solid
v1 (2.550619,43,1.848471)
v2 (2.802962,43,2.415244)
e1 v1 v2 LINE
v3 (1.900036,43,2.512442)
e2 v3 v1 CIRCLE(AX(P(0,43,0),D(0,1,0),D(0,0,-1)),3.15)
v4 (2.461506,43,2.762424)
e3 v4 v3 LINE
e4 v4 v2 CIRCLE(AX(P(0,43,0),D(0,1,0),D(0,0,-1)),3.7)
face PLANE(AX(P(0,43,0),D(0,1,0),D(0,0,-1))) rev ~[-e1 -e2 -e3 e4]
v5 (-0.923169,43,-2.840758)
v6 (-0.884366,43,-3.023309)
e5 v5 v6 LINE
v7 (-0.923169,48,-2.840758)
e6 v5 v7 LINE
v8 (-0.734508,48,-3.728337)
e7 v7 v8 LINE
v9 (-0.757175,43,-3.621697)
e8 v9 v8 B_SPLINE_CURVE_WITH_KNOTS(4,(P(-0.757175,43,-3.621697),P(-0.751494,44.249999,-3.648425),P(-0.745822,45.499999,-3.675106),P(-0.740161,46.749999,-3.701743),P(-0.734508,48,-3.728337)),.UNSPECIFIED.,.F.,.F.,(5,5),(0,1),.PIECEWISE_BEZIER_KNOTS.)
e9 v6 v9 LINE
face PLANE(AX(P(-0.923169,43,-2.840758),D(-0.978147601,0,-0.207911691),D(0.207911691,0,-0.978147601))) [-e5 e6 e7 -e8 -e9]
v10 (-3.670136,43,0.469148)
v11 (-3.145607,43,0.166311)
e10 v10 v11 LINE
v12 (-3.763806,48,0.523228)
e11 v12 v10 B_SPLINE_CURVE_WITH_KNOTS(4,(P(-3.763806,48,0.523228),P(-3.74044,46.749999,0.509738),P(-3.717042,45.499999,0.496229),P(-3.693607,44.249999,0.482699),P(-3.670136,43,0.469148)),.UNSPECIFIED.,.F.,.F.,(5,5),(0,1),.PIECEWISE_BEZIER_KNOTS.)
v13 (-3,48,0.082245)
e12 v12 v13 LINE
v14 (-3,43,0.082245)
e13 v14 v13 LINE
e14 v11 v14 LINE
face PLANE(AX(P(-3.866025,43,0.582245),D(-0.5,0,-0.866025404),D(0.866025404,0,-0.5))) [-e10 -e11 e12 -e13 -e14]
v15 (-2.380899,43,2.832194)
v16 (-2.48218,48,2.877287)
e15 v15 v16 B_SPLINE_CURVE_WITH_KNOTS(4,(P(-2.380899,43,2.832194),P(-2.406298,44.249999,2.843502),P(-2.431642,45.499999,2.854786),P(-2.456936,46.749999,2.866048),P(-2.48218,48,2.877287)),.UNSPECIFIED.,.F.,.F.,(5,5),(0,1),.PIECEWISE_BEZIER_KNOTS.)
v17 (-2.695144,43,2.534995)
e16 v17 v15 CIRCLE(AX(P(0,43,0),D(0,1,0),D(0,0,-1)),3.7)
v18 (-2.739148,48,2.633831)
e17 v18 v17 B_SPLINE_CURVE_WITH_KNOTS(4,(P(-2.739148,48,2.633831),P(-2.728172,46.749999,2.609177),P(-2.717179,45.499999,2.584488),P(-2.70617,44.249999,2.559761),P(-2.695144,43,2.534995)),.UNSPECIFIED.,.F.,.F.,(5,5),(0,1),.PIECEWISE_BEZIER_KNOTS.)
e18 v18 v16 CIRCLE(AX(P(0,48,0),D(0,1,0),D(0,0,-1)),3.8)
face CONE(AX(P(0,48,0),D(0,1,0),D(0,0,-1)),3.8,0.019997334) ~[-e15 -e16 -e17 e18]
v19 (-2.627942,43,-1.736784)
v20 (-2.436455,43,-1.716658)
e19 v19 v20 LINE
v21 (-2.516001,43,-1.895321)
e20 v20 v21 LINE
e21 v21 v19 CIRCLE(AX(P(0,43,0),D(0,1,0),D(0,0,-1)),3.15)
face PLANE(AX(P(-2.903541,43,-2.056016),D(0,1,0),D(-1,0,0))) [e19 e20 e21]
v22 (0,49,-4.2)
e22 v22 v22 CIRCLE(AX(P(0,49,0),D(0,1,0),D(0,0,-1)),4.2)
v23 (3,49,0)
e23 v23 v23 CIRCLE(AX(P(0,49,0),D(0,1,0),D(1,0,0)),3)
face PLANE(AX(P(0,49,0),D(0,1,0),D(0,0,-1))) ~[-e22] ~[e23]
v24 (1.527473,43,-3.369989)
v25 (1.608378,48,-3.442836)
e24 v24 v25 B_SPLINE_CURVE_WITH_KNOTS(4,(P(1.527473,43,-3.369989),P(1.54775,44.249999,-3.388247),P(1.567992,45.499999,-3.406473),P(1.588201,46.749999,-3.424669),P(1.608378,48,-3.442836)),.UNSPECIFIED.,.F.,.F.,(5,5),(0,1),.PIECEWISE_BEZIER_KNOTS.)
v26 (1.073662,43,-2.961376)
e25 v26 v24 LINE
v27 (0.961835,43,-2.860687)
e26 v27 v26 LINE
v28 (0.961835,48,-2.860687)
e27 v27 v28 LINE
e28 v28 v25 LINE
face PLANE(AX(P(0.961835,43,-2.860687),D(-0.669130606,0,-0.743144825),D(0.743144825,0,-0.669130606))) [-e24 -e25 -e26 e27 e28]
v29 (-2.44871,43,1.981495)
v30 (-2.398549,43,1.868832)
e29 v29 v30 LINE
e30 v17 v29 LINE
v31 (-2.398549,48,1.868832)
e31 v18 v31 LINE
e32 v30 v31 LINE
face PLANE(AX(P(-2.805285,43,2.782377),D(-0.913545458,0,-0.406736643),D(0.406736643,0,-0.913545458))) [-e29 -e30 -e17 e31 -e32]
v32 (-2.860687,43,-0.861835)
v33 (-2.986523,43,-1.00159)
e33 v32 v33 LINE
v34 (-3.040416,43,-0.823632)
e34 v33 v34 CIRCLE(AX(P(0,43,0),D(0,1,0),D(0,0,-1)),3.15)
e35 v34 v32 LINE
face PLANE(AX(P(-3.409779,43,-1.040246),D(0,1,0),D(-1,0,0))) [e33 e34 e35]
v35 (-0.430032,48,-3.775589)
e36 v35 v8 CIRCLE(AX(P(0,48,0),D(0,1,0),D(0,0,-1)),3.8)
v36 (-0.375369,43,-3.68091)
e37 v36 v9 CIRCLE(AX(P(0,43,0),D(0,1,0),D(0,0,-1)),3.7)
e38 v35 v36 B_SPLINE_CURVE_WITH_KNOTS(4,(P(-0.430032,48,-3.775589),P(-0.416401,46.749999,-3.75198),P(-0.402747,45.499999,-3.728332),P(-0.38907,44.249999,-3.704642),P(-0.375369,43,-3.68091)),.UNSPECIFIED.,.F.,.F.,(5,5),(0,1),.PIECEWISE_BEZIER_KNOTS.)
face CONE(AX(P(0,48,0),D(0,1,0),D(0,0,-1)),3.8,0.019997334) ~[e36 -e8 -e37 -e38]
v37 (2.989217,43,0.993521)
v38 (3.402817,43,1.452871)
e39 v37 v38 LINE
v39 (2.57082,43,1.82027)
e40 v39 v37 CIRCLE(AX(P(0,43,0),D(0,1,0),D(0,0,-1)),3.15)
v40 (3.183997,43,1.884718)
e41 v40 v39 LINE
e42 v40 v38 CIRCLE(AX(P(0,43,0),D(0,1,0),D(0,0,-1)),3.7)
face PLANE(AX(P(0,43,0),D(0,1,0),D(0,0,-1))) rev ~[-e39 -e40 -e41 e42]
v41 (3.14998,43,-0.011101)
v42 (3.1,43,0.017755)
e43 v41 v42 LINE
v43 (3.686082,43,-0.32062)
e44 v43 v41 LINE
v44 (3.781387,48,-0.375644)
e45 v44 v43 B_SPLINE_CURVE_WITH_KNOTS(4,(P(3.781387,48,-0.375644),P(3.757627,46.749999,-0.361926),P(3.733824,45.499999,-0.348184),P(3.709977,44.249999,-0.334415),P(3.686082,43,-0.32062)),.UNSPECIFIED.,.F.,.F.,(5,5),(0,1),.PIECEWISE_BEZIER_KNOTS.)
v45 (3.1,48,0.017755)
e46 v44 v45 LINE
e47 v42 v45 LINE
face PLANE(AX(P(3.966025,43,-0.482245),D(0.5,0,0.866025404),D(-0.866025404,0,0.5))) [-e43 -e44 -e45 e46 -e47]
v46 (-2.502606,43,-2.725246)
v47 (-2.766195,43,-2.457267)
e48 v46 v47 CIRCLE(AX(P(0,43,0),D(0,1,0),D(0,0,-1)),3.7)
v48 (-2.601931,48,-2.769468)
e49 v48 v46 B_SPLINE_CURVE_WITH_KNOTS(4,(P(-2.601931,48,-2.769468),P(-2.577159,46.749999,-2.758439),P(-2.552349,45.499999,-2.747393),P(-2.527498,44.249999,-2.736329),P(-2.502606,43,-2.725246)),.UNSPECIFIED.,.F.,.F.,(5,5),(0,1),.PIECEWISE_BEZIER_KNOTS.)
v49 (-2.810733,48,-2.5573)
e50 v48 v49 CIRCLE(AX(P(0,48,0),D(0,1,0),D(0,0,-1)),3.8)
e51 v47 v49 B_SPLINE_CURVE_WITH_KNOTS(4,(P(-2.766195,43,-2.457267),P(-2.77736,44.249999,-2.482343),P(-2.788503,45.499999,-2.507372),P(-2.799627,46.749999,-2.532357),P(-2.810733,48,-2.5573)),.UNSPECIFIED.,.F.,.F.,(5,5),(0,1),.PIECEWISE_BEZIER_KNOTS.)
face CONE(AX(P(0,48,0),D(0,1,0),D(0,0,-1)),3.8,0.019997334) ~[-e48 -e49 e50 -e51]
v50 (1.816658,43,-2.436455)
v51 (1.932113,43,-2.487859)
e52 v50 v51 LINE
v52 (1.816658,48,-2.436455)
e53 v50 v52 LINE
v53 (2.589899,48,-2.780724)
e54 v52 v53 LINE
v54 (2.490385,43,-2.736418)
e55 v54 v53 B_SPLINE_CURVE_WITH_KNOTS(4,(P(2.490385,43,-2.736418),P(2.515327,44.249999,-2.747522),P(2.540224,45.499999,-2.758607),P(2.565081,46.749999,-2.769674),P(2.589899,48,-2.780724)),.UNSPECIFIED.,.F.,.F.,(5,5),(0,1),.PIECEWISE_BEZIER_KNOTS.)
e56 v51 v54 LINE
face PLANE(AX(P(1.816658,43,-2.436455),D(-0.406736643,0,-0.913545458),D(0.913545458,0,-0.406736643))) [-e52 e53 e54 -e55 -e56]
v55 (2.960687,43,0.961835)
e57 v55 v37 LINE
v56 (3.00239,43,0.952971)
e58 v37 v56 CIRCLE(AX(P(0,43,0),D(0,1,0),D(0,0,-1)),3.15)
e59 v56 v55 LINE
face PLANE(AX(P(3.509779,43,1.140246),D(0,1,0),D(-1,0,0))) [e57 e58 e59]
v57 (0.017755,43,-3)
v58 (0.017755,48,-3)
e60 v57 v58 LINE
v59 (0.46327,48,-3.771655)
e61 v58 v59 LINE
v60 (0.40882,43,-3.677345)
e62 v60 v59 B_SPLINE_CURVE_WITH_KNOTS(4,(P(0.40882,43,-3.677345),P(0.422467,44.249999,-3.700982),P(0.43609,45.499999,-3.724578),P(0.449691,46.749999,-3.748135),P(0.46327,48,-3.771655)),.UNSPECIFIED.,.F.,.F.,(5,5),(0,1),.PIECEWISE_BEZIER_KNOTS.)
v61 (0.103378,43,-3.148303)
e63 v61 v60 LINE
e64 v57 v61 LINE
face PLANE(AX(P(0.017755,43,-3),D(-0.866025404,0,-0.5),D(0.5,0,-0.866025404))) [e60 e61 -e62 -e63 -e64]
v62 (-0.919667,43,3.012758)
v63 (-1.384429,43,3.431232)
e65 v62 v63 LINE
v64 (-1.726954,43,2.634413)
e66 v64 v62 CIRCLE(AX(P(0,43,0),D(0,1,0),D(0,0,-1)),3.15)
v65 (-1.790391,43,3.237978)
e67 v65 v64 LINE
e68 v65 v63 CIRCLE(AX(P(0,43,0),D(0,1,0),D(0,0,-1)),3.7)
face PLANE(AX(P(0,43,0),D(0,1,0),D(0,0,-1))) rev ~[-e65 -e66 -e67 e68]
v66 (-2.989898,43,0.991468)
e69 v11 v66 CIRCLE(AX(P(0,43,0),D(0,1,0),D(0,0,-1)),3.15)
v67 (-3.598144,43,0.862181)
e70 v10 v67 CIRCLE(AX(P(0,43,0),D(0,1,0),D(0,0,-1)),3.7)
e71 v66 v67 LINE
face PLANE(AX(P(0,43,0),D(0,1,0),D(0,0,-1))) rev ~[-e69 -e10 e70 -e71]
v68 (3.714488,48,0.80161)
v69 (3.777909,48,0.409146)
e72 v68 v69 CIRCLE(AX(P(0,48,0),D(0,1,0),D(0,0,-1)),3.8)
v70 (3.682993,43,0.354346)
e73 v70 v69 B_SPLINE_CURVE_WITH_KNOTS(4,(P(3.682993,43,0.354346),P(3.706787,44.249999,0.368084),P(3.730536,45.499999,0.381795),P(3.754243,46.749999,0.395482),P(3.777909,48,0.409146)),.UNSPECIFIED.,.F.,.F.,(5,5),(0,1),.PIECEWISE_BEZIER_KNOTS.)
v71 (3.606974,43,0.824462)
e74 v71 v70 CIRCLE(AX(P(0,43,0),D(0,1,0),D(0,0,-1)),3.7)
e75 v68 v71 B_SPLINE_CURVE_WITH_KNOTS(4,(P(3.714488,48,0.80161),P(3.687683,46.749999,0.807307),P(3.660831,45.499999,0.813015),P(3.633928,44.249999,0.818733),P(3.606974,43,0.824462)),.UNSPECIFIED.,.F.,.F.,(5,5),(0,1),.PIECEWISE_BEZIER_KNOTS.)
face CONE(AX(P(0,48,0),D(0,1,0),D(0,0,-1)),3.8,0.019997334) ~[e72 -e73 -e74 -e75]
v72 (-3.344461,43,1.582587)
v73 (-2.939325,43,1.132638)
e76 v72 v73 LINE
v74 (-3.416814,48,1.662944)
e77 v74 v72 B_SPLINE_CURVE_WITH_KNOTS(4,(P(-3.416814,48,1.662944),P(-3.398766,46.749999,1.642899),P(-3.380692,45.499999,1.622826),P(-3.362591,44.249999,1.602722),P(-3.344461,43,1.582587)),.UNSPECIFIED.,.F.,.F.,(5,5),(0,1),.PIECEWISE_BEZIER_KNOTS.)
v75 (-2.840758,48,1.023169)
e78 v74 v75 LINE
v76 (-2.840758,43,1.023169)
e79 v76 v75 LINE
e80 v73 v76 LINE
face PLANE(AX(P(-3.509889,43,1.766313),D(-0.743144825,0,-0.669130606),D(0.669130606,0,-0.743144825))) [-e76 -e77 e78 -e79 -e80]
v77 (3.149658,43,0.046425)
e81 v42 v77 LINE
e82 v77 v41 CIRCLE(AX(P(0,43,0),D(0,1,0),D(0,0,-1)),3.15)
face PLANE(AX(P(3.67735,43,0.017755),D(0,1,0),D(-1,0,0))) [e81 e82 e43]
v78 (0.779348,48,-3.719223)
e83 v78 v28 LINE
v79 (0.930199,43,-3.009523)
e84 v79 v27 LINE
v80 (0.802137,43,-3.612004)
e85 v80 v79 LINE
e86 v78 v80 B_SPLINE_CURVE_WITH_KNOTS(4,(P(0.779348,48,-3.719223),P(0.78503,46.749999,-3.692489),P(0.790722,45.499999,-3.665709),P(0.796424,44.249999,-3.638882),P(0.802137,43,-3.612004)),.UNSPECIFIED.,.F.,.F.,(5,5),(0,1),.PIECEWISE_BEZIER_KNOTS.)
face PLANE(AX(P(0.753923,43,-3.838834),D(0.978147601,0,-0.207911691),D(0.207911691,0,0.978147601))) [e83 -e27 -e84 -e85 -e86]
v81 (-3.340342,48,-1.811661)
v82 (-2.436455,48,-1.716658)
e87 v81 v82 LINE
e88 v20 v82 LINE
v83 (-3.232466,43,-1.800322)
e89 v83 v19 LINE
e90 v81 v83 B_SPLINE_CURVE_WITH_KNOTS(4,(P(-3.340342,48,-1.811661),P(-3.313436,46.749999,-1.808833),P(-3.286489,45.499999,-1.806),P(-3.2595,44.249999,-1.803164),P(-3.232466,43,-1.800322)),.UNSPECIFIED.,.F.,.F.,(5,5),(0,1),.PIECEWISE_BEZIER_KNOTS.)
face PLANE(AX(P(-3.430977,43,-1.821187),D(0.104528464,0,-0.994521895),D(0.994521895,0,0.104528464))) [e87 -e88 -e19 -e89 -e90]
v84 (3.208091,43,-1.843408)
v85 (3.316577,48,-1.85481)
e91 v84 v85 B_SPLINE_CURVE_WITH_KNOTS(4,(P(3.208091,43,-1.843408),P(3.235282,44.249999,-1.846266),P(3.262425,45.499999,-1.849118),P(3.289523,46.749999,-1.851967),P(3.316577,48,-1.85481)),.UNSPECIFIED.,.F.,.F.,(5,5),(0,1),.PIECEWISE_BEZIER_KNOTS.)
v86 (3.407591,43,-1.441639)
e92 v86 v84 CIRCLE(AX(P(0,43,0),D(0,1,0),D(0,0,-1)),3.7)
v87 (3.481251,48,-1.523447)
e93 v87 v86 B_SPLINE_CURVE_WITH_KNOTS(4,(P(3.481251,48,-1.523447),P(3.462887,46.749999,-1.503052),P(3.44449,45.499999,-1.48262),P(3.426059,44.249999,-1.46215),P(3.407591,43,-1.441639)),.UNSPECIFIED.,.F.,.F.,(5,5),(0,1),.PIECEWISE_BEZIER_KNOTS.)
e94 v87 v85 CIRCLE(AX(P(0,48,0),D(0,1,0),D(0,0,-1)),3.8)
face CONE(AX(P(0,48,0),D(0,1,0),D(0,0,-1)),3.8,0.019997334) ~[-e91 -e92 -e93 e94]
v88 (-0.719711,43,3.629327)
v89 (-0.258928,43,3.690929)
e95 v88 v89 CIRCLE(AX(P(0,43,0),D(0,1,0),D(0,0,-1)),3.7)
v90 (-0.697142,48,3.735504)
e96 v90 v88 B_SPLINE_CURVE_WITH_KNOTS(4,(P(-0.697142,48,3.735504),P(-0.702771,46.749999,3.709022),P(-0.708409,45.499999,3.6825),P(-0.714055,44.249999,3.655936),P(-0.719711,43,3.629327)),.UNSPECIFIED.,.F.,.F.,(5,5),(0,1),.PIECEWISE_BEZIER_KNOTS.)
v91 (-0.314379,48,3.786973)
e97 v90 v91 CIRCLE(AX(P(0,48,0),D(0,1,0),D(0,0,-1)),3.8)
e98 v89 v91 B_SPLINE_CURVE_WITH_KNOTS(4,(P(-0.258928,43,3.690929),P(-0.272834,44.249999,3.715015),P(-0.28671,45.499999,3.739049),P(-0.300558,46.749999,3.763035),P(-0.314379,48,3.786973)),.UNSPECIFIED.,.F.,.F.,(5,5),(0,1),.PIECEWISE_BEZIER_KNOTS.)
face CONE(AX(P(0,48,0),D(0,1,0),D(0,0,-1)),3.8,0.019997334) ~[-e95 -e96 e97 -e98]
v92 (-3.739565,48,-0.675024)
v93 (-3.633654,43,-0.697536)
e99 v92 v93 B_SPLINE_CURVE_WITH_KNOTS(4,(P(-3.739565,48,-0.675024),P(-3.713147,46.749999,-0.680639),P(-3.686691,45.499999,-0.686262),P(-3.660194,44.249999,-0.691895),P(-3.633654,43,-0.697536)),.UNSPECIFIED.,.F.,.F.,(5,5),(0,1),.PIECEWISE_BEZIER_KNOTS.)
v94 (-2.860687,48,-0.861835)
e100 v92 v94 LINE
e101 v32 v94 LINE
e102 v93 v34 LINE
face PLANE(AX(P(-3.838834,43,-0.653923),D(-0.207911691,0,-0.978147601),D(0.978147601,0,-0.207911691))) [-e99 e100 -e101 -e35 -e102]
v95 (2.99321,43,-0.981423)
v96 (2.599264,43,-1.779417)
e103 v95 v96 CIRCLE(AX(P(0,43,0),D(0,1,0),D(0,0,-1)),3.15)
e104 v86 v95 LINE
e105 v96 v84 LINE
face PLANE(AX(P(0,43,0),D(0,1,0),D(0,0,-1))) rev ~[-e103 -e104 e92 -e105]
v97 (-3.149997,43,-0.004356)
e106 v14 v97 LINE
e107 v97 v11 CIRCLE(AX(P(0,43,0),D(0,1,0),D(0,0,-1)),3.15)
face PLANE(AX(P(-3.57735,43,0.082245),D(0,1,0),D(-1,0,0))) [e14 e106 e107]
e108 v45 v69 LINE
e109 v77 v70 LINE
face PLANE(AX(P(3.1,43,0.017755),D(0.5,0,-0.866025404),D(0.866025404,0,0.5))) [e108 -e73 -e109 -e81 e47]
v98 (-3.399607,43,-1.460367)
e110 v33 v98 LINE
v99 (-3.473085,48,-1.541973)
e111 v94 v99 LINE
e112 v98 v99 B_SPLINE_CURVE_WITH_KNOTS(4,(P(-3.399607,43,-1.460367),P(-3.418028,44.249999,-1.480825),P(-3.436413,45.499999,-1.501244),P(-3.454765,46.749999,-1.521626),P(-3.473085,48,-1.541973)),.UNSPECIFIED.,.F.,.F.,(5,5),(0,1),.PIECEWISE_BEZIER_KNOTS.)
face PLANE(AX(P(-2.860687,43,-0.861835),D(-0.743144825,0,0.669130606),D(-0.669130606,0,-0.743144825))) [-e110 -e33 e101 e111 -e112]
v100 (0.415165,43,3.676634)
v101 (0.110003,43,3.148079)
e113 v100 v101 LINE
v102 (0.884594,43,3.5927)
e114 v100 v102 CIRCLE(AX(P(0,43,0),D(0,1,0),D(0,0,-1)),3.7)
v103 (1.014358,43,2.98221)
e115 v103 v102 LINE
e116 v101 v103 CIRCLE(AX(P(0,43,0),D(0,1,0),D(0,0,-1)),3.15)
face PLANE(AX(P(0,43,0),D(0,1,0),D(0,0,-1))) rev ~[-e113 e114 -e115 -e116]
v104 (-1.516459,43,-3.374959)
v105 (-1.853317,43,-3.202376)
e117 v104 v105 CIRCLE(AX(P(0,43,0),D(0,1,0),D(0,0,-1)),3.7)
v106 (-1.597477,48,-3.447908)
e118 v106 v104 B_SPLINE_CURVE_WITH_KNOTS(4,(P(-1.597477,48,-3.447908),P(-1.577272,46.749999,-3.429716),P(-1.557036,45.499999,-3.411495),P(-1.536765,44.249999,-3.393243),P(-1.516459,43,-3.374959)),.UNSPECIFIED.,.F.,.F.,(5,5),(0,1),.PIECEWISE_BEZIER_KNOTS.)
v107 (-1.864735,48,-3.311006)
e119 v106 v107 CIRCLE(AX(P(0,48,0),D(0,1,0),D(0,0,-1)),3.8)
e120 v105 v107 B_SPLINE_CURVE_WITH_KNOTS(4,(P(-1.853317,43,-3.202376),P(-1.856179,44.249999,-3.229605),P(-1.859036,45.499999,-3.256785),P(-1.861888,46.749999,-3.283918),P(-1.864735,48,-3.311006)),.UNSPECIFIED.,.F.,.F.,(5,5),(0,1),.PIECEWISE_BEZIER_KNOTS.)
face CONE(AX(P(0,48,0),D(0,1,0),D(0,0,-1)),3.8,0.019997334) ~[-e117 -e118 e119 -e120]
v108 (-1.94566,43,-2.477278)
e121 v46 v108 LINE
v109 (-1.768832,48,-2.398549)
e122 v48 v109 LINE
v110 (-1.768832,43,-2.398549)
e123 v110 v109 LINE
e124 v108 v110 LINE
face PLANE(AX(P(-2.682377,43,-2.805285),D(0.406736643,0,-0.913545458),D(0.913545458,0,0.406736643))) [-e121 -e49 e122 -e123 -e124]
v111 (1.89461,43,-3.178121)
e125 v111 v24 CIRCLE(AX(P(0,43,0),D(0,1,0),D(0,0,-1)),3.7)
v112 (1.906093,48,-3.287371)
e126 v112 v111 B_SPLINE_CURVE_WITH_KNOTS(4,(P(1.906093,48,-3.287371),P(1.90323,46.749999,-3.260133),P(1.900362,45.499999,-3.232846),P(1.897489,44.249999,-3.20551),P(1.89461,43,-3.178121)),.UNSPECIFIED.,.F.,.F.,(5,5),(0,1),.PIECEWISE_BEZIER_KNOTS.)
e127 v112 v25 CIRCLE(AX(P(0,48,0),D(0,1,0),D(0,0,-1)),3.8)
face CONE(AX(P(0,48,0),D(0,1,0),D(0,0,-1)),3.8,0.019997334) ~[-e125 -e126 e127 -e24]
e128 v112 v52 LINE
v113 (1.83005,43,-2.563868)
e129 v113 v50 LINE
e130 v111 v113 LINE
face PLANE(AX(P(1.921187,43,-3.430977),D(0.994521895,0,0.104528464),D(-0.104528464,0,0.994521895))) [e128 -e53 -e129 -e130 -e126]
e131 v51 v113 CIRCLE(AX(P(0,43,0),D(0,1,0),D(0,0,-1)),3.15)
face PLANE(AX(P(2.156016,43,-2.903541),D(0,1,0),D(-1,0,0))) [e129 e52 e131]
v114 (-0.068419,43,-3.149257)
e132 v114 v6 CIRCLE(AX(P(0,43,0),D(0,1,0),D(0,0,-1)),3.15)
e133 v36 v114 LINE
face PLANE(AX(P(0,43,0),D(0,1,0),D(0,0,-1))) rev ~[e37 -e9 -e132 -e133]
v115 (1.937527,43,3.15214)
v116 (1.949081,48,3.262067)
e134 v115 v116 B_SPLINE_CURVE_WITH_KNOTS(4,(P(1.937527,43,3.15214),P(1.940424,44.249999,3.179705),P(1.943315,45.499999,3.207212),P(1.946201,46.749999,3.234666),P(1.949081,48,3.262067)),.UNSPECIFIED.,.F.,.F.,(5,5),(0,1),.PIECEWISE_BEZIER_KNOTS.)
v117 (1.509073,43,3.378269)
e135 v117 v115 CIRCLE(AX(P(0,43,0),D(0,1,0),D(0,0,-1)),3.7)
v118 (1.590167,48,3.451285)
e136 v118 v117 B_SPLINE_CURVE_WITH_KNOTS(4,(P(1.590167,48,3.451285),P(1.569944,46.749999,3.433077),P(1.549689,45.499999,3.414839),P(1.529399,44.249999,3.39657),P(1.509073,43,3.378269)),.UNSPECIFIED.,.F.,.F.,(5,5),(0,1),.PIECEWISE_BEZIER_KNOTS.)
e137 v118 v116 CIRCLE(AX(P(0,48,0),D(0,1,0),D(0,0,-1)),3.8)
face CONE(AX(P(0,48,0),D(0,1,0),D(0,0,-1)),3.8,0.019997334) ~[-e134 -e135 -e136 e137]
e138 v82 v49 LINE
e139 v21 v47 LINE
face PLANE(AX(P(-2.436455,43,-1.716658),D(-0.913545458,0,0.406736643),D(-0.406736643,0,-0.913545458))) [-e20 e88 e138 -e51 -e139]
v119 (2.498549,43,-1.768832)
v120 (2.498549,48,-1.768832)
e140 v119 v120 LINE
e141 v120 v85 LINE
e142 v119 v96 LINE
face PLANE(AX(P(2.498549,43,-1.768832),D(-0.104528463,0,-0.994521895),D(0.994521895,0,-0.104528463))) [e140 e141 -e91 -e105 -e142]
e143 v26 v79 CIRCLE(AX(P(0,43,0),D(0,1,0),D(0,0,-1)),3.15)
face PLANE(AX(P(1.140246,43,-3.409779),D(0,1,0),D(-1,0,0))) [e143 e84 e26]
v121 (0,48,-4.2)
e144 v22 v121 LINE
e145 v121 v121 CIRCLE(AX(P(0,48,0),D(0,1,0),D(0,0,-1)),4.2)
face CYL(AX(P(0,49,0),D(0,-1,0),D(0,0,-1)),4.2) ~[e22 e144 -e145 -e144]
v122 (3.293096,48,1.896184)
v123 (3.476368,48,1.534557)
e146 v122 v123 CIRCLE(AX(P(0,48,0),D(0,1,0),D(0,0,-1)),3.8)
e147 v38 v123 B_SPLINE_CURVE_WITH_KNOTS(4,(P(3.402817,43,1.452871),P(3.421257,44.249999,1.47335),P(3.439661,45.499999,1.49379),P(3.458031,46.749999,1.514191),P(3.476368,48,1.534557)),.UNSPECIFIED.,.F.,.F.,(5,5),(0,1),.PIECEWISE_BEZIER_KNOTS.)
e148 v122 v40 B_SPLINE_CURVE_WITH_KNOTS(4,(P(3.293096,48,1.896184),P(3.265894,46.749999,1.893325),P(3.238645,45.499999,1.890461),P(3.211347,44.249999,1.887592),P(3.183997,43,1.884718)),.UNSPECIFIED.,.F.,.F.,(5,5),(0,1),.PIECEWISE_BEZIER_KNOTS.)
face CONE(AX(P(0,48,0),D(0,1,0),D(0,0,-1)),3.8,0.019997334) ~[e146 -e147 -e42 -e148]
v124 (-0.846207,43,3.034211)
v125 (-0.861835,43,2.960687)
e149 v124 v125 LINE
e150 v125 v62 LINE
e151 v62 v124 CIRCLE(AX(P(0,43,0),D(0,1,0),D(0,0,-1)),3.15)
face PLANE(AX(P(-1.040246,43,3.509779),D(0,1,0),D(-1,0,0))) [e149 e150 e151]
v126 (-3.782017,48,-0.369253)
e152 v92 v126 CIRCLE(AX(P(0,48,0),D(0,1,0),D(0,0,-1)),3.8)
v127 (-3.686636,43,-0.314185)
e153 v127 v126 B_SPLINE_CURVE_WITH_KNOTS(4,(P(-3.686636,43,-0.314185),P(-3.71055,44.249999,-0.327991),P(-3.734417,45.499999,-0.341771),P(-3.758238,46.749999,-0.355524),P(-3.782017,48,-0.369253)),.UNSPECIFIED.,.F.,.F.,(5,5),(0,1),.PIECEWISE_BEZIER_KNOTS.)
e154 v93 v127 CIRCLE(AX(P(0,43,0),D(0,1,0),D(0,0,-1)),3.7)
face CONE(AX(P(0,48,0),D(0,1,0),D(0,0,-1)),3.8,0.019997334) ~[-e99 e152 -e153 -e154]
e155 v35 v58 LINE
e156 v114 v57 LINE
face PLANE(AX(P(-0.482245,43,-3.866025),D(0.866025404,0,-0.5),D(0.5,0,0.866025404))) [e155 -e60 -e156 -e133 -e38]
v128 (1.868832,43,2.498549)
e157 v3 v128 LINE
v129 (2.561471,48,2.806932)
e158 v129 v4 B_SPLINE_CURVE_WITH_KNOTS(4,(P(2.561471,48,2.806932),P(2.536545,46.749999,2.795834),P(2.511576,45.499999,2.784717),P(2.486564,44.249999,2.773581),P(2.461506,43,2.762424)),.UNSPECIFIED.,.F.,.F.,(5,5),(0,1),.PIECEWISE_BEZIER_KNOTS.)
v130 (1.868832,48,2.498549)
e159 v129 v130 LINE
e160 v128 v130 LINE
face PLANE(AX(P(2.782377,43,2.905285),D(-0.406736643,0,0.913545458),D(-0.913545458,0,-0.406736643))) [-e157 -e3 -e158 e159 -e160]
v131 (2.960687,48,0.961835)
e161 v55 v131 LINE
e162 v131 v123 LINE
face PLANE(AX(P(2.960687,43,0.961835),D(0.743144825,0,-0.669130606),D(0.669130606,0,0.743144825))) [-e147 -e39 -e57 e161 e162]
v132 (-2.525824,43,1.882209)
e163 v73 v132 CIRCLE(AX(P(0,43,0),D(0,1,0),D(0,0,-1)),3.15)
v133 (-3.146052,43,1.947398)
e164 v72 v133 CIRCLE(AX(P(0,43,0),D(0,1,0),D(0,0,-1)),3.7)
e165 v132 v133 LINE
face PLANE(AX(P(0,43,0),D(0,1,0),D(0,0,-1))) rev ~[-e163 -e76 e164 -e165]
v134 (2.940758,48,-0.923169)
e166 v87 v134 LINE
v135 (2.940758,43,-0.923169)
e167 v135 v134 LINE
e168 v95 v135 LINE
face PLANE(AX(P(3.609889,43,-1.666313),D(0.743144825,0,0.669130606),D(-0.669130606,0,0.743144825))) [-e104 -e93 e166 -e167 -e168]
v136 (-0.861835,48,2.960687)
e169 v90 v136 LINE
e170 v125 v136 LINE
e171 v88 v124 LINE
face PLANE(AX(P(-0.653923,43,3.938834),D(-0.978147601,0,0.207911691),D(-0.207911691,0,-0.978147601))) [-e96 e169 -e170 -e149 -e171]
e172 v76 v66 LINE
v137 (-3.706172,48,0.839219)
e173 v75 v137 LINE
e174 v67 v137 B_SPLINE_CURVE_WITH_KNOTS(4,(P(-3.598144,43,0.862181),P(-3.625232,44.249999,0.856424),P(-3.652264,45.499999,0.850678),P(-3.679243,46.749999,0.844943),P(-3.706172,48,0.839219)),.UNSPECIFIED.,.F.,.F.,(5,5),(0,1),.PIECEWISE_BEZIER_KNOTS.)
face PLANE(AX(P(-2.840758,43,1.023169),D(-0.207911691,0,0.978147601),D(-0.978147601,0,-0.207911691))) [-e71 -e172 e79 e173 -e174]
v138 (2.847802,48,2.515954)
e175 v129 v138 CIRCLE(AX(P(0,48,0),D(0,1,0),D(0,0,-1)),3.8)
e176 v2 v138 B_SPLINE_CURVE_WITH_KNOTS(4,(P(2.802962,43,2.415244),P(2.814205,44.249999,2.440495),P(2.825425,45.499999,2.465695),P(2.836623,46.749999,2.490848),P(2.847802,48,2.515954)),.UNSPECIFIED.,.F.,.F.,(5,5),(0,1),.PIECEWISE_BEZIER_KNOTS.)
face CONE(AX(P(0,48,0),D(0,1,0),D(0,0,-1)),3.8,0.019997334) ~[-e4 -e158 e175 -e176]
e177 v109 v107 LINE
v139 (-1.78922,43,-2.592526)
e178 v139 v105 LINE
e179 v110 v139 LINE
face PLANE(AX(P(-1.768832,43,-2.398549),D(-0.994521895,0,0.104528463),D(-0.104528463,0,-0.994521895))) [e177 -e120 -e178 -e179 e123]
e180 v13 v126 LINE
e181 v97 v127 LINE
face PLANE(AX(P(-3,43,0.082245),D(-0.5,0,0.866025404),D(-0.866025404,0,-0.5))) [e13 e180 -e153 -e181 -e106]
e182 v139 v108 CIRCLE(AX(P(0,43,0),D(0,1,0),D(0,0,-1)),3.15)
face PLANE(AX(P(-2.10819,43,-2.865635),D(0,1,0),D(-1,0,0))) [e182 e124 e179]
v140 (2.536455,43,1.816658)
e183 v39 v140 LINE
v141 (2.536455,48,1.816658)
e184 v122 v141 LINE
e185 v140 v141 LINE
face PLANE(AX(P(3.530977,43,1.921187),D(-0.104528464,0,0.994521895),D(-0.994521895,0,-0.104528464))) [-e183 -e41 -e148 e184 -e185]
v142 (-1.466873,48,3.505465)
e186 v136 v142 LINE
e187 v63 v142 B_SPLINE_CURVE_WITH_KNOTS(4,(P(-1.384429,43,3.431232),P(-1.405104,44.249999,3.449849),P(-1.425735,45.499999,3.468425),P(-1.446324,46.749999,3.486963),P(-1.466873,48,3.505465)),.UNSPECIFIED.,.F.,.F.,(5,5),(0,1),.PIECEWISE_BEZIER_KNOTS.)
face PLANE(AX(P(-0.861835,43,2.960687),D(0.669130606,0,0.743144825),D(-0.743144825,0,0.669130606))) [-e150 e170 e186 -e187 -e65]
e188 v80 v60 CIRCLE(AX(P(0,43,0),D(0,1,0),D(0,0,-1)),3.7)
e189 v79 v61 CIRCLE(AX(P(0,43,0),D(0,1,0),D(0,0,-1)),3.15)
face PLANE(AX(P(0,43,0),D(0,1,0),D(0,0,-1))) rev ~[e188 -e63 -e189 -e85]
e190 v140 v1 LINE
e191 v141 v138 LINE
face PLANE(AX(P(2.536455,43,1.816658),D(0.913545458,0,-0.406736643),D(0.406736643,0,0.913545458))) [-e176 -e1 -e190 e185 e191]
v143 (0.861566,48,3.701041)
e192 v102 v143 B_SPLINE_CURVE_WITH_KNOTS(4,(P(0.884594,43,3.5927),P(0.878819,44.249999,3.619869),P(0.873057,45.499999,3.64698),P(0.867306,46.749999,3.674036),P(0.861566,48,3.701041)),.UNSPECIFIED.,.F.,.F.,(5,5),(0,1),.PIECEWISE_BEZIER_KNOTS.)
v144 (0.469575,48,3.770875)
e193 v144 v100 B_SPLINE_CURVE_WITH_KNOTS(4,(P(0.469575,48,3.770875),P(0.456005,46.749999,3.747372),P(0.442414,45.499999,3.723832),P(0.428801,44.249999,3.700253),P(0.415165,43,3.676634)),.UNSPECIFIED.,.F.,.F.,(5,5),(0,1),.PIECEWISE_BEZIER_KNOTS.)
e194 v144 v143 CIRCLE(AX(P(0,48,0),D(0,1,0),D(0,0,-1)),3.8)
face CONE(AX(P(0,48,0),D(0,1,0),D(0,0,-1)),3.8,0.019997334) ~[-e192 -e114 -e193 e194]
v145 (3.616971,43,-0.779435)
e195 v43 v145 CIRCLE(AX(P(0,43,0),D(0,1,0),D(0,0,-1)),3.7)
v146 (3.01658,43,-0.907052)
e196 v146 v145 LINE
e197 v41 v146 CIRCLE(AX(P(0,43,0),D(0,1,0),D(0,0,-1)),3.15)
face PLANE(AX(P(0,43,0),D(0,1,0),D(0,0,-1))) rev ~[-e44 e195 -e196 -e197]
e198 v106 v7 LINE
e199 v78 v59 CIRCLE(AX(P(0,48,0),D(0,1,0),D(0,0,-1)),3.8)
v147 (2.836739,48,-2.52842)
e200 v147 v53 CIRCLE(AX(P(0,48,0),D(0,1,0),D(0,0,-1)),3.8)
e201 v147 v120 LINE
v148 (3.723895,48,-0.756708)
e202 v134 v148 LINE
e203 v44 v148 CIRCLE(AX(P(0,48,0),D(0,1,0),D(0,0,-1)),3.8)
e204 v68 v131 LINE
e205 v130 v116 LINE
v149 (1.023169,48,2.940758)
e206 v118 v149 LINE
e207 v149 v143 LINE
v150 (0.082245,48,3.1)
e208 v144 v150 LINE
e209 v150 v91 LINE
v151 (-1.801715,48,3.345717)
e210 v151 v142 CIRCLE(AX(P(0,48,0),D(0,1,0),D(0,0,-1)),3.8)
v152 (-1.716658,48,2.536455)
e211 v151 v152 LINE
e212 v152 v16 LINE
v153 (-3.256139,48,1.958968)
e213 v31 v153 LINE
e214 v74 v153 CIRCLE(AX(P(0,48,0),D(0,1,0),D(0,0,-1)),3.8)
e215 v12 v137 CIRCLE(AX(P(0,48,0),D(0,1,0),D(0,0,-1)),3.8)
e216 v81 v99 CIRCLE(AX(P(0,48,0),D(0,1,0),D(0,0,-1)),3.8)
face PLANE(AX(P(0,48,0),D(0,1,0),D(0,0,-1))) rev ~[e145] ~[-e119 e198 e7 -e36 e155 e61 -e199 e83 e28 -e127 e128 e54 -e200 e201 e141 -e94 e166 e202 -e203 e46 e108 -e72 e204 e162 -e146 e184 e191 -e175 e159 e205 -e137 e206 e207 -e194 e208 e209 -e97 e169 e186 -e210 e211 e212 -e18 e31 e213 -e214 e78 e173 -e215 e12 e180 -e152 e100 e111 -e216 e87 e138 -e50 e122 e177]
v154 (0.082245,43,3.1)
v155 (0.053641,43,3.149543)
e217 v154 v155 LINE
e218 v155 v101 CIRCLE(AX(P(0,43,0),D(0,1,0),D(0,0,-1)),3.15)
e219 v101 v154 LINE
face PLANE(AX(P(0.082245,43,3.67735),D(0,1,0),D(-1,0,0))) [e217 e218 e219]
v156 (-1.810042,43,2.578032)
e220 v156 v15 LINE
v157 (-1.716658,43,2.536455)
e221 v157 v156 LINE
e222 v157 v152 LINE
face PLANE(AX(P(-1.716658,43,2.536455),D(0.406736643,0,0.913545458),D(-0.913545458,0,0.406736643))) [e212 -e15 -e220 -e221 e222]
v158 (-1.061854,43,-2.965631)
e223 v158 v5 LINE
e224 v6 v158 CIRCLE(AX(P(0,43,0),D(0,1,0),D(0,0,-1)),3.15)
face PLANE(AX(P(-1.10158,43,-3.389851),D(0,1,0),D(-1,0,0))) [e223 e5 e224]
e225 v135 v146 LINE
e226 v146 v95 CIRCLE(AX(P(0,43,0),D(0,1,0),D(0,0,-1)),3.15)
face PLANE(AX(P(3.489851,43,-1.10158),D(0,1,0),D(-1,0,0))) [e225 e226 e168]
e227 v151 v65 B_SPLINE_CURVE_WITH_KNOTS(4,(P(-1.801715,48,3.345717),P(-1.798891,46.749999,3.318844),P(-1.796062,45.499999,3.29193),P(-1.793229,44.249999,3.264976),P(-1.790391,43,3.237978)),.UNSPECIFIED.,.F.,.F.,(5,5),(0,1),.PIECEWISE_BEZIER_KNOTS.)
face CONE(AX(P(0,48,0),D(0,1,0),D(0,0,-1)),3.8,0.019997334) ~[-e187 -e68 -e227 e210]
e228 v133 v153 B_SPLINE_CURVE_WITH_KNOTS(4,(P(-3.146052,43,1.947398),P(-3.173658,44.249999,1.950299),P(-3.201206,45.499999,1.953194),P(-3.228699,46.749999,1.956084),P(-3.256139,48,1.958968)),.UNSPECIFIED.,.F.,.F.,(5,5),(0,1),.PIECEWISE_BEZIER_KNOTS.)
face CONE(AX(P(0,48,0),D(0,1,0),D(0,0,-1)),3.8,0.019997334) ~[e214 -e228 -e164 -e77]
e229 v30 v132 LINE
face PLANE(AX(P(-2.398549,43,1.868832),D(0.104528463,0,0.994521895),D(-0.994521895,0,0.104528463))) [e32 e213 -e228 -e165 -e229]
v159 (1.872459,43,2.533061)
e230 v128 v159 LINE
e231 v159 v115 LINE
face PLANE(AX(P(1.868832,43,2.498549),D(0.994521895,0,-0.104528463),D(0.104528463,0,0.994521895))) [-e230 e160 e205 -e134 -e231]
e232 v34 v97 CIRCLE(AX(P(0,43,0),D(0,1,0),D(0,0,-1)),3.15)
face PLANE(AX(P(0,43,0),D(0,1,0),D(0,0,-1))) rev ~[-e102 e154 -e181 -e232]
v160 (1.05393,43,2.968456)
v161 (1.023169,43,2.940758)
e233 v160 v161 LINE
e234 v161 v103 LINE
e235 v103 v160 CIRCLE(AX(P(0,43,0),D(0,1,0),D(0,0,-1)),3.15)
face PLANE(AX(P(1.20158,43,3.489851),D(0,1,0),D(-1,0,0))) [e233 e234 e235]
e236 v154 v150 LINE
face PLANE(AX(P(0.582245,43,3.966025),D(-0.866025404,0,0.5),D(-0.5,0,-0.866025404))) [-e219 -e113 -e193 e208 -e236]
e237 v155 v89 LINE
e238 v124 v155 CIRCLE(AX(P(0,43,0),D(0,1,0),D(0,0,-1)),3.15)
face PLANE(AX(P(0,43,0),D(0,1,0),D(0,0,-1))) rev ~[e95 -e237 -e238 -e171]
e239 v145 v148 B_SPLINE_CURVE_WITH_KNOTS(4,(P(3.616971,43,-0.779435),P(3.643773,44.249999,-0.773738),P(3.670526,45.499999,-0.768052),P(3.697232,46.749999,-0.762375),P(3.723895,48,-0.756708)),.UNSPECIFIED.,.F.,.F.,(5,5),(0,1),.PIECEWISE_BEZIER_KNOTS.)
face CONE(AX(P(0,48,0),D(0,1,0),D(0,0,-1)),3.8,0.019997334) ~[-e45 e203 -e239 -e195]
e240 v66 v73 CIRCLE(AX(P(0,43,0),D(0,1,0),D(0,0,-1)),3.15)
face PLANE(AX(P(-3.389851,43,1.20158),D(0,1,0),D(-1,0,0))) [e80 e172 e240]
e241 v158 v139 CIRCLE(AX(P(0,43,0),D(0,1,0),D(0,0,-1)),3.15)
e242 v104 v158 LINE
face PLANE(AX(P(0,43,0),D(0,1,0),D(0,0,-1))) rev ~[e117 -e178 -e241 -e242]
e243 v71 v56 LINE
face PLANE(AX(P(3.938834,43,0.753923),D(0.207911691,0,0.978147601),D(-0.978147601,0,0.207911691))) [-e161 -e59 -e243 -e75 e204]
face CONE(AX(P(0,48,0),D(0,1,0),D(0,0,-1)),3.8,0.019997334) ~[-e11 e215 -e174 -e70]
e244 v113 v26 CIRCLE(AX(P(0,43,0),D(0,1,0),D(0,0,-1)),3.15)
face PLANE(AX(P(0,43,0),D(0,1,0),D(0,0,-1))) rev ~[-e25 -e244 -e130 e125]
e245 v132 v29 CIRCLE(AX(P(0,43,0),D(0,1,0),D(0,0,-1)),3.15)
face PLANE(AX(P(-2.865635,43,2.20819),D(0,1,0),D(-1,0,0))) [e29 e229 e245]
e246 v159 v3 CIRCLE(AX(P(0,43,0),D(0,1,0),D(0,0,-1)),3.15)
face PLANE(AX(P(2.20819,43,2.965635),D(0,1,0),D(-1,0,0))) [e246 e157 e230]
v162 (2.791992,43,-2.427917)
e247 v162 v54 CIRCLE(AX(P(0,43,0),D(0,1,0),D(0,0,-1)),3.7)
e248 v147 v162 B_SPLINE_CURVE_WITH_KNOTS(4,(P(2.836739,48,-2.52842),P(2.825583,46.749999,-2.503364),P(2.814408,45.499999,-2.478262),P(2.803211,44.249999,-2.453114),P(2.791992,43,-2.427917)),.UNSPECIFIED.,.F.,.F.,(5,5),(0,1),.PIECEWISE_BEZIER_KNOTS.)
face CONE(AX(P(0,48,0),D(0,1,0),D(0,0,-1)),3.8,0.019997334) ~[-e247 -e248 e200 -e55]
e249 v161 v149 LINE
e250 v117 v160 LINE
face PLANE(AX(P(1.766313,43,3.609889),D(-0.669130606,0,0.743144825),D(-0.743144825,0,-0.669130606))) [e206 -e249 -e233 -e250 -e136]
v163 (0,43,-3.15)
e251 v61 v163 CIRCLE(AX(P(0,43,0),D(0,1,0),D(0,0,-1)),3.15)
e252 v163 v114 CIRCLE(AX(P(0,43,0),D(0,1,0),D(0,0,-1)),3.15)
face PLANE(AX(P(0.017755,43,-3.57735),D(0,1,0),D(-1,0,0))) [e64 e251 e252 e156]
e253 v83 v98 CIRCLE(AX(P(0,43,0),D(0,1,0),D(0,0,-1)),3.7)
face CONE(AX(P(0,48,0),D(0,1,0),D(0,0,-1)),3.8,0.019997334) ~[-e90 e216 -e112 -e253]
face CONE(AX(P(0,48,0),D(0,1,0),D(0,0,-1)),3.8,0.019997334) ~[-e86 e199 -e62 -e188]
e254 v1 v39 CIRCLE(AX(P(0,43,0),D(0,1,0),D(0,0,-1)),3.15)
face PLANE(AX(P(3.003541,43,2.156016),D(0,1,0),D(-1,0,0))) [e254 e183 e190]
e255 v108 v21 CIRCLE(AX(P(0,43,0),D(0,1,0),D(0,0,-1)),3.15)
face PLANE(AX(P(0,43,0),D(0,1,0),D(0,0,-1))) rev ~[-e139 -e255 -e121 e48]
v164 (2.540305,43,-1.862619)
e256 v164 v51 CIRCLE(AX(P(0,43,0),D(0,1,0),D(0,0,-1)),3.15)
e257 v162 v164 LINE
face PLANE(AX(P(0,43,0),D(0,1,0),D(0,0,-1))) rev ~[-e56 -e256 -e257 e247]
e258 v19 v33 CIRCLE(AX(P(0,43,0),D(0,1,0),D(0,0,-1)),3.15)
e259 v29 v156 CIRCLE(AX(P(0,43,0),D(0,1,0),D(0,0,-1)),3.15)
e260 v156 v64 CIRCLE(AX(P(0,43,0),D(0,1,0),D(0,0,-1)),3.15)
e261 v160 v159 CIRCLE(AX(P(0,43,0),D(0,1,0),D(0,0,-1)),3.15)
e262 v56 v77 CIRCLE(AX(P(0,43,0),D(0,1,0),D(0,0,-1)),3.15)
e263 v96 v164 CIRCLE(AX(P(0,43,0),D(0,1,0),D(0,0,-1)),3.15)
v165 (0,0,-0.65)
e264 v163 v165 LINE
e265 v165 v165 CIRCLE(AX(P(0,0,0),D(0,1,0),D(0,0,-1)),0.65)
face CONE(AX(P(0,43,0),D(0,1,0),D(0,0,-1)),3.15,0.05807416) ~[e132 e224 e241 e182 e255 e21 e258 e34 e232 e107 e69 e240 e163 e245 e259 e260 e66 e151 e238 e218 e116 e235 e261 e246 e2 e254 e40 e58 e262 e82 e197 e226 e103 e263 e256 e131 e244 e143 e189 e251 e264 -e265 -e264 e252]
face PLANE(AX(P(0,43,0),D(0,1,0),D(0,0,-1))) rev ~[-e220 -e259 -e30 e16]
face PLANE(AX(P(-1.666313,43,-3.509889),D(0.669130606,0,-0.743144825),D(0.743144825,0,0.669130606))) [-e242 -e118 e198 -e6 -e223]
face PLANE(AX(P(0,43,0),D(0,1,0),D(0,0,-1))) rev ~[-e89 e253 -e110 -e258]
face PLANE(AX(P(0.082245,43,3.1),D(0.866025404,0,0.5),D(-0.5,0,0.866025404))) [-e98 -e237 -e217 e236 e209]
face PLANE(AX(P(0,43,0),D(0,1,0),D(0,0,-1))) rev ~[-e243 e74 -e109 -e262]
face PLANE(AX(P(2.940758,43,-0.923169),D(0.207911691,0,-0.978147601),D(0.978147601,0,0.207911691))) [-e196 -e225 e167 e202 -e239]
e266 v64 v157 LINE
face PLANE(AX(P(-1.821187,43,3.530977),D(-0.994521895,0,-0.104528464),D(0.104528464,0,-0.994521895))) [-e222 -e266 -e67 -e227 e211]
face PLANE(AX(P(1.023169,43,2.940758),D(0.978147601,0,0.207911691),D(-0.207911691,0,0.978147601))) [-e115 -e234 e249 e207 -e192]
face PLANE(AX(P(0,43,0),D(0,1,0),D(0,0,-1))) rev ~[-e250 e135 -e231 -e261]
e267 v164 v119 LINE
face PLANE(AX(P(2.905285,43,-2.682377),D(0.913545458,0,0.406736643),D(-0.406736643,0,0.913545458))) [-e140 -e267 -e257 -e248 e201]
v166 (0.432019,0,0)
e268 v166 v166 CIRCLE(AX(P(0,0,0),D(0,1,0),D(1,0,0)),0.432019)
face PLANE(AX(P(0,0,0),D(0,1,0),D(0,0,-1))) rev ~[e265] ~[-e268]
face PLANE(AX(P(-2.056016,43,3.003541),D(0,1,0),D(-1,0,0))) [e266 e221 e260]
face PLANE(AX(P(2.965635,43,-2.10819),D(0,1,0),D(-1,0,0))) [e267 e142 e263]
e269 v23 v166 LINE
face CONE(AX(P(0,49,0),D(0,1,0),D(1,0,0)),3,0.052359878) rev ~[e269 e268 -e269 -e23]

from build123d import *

# Parameters (mm, degrees)
IZIM2_R               = 3
KES_EKSTR_ZYON1_DEPTH = 49
KES_EKSTR_ZYON1_DRAFT = -3
KES_EKSTR_ZYON4_DEPTH = 5


with BuildPart() as part:
    # Çizim1 → Döndür1 (revolve)
    with BuildSketch(Plane.XY, mode=Mode.PRIVATE) as d_nd_r1_sk:
        Polygon((0, 0), (0, 49), (4.2, 49), (4.2, 48), (3.8, 48), (3.7, 43), (3.15, 43), (0.65, 0), align=None)
    revolve(d_nd_r1_sk.sketch.rotate(Axis((0, 0, 0), (0, 1, 0)), 90), axis=Axis((0, 0, 0), (0, 1, 0)))


with BuildPart() as kes_ekstr_zyon1_tool:
    # Çizim2 → Kes-Ekstrüzyon1 (with draft: the straight prism first)
    with BuildSketch(Plane(origin=(0, 49, 0), x_dir=(1, 0, 0), z_dir=(0, 1, 0))):
        Circle(IZIM2_R)
    extrude(amount=-KES_EKSTR_ZYON1_DEPTH)
    # Kes-Ekstrüzyon1: the draft: its side faces are tilted about the plane it starts from
    kes_ekstr_zyon1_sides = [kes_ekstr_zyon1_tool.faces().sort_by_distance(p)[0] for p in [
        (-3, 24.5, 0),
    ]]
    draft(kes_ekstr_zyon1_sides, Plane(origin=(0, 49, 0), x_dir=(1, 0, 0), z_dir=(0, 1, 0)), KES_EKSTR_ZYON1_DRAFT)


with BuildPart() as part_1:
    add(part.part)

    # Kes-Ekstrüzyon1: cut by kes_ekstr_zyon1_tool
    add(kes_ekstr_zyon1_tool.part, mode=Mode.SUBTRACT)

    # Çizim3 → Kes-Ekstrüzyon4 (cut)
    with BuildSketch(Plane.XZ.offset(-43)):
        Polygon((0.08224501, 3.1), (-0.41775499, 3.966025404), (0.58224501, 3.966025404), align=None)
        Polygon((0.815256969, 3.918905719), (1.766313485, 3.609888725), (1.02316866, 2.940758119), align=None)
        Polygon((1.973360244, 3.493070587), (2.782377238, 2.905285335), (1.868831781, 2.498548692), align=None)
        Polygon((2.943191617, 2.730203716), (3.53097687, 1.921186722), (2.536454974, 1.816658258), align=None)
        Polygon((3.629817237, 1.704979831), (3.938834232, 0.753923315), (2.960686631, 0.961835006), align=None)
        Polygon((3.966025404, 0.51775499), (3.966025404, -0.48224501), (3.1, 0.01775499), align=None)
        Polygon((3.918905719, -0.715256969), (3.609888725, -1.666313485), (2.940758119, -0.92316866), align=None)
        Polygon((3.493070587, -1.873360244), (2.905285335, -2.682377238), (2.498548692, -1.768831781), align=None)
        Polygon((2.730203716, -2.843191617), (1.921186722, -3.43097687), (1.816658258, -2.436454974), align=None)
        Polygon((1.704979831, -3.529817237), (0.753923315, -3.838834232), (0.961835006, -2.860686631), align=None)
        Polygon((0.51775499, -3.866025404), (-0.48224501, -3.866025404), (0.01775499, -3), align=None)
        Polygon((-0.715256969, -3.818905719), (-1.666313485, -3.509888725), (-0.92316866, -2.840758119), align=None)
        Polygon((-1.873360244, -3.393070587), (-2.682377238, -2.805285335), (-1.768831781, -2.398548692), align=None)
        Polygon((-2.843191617, -2.630203716), (-3.43097687, -1.821186722), (-2.436454974, -1.716658258), align=None)
        Polygon((-3.529817237, -1.604979831), (-3.838834232, -0.653923315), (-2.860686631, -0.861835006), align=None)
        Polygon((-3.866025404, -0.41775499), (-3.866025404, 0.58224501), (-3, 0.08224501), align=None)
        Polygon((-3.818905719, 0.815256969), (-3.509888725, 1.766313485), (-2.840758119, 1.02316866), align=None)
        Polygon((-3.393070587, 1.973360244), (-2.805285335, 2.782377238), (-2.398548692, 1.868831781), align=None)
        Polygon((-2.630203716, 2.943191617), (-1.821186722, 3.53097687), (-1.716658258, 2.536454974), align=None)
        Polygon((-1.604979831, 3.629817237), (-0.653923315, 3.938834232), (-0.861835006, 2.960686631), align=None)
    extrude(amount=-KES_EKSTR_ZYON4_DEPTH, mode=Mode.SUBTRACT)


solid = part_1.part
